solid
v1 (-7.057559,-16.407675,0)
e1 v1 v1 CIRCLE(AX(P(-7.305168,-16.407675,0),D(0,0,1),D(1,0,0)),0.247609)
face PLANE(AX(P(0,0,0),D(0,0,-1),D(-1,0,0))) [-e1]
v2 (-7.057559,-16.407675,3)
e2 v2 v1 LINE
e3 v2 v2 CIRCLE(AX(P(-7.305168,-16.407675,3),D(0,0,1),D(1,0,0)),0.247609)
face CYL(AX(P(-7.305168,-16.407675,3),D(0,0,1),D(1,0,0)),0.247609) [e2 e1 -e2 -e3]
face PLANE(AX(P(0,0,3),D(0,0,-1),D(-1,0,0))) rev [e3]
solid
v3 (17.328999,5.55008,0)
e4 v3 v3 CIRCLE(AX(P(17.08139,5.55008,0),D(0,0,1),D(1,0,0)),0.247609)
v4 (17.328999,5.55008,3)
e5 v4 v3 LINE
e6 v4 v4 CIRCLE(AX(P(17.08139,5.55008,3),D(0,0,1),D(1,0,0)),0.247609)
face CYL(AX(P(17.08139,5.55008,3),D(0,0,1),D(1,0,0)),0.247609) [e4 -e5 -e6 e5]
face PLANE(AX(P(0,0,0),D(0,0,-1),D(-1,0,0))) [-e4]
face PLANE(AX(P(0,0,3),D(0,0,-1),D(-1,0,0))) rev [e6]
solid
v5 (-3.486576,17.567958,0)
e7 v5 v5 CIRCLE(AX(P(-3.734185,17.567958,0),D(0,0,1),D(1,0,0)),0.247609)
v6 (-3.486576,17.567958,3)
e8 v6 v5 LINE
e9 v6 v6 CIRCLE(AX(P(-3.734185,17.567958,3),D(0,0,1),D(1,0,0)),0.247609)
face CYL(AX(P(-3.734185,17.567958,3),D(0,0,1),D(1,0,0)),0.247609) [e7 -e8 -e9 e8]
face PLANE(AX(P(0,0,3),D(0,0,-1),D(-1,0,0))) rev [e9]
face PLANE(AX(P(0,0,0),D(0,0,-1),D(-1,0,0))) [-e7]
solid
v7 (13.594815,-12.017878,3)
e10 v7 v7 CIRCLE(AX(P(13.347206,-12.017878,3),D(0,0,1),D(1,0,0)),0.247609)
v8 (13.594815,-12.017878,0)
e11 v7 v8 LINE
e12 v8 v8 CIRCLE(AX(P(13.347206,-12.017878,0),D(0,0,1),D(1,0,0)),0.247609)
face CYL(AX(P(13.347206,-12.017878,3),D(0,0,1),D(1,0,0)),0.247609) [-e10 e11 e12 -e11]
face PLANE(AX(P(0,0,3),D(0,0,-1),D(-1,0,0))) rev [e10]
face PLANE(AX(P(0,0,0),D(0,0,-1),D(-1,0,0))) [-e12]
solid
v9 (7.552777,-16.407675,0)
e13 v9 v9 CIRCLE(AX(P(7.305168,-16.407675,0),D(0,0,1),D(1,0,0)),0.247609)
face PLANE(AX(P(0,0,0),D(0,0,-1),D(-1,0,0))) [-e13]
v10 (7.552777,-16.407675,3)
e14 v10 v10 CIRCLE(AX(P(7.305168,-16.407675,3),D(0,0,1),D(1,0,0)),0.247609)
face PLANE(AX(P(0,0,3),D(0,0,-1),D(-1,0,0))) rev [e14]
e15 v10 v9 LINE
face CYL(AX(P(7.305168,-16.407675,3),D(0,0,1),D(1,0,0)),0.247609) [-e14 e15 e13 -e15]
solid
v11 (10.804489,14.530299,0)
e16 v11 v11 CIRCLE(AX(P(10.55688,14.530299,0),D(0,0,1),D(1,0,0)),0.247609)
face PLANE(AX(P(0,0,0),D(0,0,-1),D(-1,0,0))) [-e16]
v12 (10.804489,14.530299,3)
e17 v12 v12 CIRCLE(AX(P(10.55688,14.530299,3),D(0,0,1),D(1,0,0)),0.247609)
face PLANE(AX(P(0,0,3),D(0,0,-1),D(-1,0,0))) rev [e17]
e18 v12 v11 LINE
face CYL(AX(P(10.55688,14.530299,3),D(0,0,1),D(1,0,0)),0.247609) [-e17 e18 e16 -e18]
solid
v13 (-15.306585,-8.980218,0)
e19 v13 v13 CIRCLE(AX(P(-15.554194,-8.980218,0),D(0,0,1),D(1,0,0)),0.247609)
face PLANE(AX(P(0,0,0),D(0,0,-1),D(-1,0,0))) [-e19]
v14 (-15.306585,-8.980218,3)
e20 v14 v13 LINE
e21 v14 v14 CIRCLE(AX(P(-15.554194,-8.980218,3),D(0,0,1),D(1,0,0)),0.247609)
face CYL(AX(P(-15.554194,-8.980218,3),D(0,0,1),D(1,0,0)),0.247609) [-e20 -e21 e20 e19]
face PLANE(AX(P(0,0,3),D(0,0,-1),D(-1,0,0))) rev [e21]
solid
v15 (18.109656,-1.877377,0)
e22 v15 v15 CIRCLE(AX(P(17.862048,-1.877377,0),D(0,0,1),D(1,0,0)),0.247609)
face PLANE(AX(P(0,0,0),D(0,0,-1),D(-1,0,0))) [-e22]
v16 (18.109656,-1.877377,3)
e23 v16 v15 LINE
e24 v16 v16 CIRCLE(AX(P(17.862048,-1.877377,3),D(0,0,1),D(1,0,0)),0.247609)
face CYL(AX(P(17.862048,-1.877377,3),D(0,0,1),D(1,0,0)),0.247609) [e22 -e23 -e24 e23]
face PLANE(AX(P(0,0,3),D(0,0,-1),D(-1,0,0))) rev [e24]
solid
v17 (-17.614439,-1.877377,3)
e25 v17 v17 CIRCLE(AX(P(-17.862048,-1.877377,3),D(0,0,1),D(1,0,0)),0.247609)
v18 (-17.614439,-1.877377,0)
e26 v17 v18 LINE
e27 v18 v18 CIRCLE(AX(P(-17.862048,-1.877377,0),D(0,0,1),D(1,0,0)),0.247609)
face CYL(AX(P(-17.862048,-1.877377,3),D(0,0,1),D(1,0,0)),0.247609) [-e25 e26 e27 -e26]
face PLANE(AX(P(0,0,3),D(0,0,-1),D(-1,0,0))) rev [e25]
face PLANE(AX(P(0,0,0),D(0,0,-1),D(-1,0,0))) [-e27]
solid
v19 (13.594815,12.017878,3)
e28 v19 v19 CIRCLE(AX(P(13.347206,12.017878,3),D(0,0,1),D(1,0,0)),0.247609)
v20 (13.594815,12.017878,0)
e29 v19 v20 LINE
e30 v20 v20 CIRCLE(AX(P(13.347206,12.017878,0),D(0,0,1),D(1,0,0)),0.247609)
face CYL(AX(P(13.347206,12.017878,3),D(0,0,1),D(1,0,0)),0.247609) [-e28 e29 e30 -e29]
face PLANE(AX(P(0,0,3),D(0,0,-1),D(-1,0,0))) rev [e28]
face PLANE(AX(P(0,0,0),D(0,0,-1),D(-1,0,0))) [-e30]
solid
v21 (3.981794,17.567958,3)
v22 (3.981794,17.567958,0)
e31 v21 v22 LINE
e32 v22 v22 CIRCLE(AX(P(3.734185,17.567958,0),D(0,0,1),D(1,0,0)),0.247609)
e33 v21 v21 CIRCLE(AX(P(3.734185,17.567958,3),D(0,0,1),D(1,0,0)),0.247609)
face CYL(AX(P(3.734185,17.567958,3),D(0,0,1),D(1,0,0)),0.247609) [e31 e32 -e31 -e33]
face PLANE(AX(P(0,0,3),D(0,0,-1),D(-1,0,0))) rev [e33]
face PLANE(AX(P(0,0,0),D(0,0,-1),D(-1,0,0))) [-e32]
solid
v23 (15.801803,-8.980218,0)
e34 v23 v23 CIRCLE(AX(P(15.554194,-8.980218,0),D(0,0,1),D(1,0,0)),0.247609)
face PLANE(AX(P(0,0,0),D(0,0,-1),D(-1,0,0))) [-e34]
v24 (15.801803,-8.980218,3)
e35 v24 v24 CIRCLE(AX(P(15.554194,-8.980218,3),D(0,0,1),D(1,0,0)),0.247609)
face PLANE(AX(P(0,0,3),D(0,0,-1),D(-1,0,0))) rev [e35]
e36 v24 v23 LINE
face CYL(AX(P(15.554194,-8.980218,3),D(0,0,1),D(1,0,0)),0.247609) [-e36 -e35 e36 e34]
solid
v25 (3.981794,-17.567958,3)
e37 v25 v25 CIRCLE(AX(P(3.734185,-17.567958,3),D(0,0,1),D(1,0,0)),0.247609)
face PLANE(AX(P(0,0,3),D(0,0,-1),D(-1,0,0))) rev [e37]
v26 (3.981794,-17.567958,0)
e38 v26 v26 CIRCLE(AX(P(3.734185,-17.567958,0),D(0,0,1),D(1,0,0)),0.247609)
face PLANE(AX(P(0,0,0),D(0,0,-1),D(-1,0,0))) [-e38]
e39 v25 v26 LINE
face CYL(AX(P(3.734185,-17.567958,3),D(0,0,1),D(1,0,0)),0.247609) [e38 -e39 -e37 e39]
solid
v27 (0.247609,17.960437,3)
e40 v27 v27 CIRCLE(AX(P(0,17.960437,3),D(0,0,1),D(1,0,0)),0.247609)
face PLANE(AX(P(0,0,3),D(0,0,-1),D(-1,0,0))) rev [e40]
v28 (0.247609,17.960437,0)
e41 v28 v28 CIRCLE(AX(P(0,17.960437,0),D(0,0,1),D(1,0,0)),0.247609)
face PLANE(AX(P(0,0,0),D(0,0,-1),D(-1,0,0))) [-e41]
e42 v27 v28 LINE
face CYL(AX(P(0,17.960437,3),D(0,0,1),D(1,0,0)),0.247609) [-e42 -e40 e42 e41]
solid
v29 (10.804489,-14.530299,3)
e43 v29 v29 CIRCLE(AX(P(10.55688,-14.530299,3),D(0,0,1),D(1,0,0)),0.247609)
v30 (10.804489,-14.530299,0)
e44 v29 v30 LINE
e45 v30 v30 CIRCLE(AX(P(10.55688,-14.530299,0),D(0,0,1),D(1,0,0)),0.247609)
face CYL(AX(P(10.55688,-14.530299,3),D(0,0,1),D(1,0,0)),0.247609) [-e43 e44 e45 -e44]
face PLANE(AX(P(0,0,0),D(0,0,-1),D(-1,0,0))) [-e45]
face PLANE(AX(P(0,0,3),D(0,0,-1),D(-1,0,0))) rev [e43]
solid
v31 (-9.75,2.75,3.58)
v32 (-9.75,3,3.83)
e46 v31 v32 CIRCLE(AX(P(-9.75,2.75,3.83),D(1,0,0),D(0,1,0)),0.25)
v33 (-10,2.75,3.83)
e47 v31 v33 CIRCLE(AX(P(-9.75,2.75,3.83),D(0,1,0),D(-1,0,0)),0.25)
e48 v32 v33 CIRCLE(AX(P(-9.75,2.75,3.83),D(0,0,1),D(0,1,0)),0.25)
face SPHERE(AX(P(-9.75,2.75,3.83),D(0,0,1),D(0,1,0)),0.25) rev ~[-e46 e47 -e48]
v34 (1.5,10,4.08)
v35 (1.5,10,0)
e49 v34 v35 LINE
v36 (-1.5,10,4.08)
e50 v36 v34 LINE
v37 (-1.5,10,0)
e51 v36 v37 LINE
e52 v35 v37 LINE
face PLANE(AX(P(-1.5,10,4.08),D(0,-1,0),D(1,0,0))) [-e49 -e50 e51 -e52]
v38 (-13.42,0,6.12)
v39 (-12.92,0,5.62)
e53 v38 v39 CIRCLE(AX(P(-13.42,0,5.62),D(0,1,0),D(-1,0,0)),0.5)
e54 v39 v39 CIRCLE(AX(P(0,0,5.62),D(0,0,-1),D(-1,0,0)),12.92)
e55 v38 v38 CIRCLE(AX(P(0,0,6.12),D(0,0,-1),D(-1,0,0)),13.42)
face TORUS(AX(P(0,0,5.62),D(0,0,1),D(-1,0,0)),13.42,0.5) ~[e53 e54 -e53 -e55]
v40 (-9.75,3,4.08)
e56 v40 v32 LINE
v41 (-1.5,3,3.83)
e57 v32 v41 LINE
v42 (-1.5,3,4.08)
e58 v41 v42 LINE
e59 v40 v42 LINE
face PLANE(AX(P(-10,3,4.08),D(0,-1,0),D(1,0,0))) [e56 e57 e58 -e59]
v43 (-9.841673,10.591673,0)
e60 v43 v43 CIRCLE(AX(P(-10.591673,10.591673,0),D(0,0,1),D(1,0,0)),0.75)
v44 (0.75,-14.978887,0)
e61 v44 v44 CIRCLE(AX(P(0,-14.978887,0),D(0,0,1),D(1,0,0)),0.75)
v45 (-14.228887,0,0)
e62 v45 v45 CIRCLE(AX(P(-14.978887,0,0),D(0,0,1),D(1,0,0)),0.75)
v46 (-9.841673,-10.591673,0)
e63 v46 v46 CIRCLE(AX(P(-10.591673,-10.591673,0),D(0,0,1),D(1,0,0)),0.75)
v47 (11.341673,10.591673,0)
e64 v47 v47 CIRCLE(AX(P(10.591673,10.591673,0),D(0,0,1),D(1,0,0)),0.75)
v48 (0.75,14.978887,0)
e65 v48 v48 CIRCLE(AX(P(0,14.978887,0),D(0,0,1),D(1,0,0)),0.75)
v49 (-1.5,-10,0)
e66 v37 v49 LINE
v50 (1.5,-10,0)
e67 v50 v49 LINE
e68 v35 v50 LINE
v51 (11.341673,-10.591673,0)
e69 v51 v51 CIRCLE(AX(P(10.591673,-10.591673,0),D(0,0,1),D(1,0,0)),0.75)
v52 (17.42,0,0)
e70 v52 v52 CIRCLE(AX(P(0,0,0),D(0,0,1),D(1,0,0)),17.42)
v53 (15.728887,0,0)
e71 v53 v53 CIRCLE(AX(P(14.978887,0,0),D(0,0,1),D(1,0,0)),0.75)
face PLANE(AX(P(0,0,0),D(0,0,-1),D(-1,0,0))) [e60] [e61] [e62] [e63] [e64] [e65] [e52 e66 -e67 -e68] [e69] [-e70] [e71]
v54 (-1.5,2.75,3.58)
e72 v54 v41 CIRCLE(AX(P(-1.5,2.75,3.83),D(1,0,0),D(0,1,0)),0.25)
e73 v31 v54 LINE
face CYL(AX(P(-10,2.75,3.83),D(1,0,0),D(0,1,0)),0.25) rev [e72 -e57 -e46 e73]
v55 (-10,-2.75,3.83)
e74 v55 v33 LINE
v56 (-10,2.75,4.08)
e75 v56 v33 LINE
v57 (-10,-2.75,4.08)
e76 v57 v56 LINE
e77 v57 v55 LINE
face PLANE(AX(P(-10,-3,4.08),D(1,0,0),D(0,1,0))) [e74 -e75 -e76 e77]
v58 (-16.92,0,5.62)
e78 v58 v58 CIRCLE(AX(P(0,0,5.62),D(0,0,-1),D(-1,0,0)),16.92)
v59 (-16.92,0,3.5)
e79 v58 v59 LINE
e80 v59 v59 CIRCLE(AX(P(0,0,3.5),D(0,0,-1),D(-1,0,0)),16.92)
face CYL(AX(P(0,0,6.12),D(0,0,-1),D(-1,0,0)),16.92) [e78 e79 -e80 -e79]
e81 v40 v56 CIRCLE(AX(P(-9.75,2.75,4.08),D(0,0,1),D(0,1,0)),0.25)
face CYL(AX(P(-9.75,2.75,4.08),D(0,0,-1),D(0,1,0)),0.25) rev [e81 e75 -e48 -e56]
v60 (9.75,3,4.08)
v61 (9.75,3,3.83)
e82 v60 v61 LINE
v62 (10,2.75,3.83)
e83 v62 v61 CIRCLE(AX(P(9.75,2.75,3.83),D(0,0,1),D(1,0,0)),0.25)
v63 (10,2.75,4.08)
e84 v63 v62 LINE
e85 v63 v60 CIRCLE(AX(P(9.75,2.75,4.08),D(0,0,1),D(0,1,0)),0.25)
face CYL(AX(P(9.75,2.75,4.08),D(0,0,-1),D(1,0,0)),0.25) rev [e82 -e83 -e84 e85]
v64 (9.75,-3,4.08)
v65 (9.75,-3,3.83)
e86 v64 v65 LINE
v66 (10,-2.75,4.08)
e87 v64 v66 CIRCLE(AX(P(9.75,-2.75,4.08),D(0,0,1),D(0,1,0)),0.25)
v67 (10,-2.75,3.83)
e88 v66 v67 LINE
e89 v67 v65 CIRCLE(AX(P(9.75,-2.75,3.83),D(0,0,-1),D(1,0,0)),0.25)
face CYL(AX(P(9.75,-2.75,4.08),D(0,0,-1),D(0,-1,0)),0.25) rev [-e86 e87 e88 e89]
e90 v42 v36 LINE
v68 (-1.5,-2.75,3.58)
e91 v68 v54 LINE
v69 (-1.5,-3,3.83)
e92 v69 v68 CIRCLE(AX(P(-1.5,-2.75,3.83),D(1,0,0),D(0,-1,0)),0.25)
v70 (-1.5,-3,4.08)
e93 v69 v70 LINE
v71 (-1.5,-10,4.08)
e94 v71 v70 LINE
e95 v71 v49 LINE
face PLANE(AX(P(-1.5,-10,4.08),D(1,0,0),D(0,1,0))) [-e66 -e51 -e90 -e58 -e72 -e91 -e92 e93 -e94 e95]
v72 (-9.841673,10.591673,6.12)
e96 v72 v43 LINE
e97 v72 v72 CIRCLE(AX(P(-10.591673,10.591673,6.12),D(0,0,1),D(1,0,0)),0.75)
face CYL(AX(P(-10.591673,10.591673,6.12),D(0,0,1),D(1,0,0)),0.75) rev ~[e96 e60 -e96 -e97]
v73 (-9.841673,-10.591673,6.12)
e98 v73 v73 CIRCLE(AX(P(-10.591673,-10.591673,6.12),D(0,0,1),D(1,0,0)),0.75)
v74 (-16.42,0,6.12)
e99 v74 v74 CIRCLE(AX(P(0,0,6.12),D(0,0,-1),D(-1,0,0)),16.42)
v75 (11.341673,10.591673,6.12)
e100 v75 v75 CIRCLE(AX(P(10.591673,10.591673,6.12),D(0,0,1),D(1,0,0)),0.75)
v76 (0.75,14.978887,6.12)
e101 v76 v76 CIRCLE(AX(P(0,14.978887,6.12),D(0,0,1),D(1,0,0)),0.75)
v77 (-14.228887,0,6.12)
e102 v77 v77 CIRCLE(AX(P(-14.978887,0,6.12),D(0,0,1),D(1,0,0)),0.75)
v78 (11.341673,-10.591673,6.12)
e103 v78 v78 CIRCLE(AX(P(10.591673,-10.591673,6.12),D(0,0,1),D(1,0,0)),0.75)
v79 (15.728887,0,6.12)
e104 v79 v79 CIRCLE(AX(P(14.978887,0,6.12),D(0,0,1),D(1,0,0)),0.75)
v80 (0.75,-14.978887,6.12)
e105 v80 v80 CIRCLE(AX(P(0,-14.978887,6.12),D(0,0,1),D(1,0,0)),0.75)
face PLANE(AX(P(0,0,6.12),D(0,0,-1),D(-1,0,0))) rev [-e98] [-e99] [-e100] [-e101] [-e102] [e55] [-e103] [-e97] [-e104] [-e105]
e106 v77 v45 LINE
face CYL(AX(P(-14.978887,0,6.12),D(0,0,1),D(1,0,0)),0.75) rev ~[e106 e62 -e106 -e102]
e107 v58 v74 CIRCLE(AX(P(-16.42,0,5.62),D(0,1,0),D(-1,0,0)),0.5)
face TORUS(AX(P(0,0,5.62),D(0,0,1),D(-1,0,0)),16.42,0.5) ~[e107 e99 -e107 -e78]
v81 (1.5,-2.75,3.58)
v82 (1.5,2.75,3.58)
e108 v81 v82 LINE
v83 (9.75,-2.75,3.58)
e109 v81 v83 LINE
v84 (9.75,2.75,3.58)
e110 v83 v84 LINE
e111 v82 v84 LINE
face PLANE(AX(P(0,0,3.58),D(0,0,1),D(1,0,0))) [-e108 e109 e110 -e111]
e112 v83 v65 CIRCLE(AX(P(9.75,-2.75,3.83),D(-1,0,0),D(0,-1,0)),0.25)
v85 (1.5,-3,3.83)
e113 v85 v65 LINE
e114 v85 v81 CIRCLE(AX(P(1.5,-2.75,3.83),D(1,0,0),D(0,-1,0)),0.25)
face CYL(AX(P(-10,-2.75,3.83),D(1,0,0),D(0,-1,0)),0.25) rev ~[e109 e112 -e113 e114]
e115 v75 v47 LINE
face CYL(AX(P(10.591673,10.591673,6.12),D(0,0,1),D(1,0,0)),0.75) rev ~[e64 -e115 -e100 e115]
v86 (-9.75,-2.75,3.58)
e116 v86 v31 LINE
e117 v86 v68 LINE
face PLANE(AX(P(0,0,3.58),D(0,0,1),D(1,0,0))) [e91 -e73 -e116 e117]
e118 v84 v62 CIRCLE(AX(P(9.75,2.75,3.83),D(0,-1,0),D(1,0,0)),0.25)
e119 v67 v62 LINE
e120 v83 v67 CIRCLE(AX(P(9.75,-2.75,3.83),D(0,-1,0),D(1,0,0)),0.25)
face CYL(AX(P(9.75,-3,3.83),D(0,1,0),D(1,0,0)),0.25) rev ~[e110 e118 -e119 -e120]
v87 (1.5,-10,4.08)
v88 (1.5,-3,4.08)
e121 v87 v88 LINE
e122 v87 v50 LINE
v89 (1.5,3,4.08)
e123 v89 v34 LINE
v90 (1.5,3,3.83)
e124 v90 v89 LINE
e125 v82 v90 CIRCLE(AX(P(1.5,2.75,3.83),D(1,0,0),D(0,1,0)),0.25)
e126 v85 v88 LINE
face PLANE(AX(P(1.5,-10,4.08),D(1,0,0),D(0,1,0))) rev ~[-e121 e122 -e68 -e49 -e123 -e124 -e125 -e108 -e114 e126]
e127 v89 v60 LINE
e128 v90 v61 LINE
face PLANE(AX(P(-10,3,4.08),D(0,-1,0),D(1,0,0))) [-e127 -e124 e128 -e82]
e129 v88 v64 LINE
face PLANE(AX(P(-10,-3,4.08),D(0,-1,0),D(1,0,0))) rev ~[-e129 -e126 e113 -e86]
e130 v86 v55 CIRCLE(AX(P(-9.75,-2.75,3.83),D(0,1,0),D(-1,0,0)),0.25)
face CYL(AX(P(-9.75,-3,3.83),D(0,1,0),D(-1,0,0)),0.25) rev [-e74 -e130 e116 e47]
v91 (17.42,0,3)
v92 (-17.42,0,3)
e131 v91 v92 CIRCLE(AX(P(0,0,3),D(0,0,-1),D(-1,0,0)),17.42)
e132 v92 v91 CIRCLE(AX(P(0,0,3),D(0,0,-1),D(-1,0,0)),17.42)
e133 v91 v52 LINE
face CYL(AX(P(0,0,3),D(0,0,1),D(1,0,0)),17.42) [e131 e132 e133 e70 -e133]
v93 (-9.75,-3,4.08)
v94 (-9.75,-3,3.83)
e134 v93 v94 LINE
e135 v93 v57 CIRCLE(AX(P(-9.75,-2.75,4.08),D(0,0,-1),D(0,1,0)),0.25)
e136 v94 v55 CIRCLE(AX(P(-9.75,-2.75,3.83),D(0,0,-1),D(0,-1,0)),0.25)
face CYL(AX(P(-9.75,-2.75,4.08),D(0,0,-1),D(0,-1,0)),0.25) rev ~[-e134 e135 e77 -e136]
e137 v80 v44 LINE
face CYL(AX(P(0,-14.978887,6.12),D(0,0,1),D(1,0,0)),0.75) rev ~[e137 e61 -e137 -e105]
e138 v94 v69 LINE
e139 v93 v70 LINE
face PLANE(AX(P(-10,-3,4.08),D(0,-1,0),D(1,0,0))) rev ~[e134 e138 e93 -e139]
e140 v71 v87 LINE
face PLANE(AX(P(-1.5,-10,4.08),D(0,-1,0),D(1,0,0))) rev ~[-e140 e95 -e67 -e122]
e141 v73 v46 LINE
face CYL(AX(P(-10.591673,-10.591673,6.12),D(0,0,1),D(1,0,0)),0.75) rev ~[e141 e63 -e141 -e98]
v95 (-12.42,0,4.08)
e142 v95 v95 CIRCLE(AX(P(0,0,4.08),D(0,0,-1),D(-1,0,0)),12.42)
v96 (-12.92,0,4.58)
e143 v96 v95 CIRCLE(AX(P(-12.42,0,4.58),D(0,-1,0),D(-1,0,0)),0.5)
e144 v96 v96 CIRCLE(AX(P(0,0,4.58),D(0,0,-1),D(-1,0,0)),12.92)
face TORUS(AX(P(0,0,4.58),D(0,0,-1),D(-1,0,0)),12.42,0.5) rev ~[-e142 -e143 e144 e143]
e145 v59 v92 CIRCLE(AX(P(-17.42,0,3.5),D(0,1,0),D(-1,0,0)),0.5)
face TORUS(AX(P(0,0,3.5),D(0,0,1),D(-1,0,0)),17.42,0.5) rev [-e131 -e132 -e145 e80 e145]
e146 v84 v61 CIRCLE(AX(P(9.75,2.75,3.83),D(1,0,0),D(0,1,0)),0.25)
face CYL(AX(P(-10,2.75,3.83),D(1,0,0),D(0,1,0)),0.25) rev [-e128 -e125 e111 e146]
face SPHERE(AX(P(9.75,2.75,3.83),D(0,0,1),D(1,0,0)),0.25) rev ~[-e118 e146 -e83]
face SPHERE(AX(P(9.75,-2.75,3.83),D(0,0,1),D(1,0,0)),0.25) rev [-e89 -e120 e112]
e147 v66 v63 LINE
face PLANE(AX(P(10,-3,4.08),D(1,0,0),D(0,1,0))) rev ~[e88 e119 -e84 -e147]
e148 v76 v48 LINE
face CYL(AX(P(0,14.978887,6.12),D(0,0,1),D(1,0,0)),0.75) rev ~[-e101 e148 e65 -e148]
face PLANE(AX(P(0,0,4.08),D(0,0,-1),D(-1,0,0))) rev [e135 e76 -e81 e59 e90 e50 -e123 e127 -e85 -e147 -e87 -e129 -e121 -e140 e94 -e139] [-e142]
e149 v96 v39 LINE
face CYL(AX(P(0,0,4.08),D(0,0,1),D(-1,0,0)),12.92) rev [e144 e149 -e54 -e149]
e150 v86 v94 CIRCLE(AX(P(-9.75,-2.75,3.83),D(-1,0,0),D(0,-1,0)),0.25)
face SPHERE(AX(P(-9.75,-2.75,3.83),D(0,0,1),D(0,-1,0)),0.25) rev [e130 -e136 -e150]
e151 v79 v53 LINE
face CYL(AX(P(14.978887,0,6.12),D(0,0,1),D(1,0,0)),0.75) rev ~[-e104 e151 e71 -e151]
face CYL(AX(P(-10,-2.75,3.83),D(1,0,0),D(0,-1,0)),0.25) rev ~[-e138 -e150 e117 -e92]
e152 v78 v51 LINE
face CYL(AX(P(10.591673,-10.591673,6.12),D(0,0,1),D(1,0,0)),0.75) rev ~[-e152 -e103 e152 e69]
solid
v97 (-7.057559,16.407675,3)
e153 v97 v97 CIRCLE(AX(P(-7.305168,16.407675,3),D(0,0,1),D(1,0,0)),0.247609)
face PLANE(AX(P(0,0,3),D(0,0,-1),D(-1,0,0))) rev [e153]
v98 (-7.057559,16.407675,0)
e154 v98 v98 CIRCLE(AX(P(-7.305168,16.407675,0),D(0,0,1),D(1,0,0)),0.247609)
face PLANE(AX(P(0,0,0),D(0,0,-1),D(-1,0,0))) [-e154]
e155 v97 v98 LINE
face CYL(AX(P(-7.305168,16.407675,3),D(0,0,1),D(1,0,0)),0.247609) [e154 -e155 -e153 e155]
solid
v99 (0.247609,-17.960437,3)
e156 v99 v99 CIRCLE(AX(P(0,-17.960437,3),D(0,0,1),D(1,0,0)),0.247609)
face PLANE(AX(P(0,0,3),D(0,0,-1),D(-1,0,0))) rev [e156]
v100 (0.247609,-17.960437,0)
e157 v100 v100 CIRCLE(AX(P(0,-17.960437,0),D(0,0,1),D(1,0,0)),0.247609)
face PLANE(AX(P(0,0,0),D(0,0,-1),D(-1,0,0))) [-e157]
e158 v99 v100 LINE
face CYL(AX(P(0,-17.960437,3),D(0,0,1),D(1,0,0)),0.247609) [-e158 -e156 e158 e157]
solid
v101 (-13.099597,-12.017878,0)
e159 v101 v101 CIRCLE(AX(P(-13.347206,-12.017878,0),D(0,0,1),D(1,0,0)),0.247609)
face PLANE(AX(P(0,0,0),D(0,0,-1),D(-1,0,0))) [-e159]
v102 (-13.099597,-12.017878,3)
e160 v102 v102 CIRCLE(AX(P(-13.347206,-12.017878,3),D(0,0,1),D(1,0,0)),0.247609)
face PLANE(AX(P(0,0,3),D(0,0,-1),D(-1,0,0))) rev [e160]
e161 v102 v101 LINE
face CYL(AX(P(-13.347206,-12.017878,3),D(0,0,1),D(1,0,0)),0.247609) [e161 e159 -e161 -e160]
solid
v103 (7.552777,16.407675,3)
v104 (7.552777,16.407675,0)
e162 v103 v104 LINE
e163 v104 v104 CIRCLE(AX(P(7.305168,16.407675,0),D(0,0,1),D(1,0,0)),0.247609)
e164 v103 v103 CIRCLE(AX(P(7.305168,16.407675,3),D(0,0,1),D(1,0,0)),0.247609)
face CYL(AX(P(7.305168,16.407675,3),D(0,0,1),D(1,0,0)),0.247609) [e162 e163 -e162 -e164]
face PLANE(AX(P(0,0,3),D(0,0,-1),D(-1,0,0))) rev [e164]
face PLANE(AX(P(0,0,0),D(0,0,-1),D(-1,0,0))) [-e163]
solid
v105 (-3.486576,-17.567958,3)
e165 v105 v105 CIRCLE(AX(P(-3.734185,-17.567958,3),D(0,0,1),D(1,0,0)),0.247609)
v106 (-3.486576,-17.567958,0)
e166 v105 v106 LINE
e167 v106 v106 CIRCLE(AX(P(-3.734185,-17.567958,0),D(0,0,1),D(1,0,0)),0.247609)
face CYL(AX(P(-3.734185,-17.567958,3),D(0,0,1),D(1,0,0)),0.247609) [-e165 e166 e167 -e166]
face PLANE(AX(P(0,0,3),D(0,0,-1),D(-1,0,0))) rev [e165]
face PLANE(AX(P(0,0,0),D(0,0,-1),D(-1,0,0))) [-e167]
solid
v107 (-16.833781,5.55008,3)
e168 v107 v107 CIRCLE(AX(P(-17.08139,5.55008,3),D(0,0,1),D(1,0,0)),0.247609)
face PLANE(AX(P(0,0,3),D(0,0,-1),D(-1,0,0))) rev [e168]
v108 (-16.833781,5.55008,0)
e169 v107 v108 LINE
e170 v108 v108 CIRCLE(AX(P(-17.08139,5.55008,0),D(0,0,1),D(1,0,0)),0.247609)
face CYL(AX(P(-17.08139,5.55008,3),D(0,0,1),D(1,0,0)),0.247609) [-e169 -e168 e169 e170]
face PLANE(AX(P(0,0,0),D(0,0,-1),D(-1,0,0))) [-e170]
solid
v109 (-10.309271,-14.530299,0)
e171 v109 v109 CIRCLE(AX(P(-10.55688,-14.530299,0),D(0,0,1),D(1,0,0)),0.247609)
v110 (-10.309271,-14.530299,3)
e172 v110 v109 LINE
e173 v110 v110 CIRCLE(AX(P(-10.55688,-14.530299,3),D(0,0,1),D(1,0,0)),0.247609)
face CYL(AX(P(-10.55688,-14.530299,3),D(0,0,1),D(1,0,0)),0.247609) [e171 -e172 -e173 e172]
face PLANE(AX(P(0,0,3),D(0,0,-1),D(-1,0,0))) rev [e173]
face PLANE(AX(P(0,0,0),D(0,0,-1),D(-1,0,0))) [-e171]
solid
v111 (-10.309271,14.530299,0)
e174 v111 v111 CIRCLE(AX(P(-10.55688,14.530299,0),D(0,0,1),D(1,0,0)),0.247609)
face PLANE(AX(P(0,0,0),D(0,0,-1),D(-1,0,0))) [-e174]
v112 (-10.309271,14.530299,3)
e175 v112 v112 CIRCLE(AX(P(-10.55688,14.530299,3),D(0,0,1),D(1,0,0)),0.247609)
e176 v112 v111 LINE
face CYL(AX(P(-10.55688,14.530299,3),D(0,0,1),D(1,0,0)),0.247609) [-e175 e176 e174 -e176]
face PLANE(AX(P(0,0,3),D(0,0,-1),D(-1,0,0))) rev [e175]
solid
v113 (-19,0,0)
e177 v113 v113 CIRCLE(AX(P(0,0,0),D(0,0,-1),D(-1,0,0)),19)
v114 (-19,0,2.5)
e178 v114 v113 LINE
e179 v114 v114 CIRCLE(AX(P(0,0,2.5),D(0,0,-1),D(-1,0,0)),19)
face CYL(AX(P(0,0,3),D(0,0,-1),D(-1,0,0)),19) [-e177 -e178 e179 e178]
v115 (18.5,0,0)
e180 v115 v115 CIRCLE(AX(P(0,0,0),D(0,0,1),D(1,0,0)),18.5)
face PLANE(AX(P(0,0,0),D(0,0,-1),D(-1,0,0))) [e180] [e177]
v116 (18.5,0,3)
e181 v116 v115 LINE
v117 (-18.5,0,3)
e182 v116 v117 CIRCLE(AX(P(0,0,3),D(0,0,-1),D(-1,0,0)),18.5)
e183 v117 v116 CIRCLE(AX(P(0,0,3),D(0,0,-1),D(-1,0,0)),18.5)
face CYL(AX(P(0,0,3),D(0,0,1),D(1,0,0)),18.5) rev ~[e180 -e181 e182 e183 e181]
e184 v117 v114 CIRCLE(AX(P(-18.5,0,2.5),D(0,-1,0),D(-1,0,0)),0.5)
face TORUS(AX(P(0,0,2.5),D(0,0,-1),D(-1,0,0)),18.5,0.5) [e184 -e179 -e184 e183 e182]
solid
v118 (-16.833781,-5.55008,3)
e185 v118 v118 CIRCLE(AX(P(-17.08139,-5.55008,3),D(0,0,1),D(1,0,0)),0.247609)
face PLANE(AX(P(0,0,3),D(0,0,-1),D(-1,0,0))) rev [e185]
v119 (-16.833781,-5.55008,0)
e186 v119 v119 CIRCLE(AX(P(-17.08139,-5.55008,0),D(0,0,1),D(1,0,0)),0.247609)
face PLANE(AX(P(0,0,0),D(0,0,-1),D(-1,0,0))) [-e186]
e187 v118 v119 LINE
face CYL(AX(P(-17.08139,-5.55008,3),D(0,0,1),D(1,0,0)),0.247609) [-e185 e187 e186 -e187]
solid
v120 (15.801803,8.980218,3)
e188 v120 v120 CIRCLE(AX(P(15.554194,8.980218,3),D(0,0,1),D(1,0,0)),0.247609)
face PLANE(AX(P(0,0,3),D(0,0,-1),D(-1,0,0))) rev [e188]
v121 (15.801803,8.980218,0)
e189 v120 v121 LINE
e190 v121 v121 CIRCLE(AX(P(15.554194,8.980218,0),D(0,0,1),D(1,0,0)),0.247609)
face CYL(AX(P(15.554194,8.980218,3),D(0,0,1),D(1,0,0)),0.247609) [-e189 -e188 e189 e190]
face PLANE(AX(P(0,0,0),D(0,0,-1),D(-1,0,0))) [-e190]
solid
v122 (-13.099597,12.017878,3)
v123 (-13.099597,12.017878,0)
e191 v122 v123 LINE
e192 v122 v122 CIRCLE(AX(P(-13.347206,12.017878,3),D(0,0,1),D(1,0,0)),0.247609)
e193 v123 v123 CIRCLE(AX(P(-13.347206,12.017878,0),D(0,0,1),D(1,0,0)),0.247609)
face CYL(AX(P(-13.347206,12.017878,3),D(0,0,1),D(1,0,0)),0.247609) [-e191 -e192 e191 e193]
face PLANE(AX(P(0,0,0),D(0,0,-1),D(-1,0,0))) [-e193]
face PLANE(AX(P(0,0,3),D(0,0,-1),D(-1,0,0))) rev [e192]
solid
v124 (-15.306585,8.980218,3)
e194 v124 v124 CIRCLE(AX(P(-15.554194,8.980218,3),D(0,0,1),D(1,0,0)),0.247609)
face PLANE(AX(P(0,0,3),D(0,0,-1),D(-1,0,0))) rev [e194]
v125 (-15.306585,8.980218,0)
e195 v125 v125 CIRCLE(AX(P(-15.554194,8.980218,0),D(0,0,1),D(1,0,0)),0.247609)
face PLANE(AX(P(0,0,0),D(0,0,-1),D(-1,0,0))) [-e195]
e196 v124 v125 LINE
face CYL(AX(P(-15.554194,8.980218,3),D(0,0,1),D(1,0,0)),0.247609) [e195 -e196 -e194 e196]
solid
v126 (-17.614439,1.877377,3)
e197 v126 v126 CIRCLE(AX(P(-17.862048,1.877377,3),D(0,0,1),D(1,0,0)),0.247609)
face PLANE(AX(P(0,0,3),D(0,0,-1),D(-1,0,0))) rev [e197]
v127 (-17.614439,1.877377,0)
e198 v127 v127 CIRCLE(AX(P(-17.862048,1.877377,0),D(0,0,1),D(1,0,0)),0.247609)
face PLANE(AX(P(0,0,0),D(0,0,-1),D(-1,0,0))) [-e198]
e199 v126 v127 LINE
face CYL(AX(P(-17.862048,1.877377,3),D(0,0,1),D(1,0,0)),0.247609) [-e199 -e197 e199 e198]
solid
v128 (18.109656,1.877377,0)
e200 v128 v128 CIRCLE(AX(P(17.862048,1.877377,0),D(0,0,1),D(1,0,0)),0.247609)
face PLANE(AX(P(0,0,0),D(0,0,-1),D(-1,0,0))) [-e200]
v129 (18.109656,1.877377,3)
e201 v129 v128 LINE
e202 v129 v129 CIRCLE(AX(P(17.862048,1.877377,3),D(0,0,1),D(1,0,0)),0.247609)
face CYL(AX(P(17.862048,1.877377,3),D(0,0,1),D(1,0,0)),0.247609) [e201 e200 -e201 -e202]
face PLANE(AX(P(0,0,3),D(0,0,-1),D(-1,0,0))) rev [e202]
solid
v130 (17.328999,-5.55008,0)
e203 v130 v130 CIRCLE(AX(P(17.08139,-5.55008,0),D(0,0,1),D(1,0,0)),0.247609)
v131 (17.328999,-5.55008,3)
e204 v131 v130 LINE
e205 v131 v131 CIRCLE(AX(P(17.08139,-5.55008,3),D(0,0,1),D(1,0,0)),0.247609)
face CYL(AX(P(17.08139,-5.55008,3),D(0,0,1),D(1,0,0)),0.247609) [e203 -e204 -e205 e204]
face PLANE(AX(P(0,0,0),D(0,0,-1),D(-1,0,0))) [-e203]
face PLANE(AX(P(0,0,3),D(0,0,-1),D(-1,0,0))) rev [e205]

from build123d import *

# Parameters (mm, degrees)
F2_R      = 0.5
F3_R      = 0.5
F5_W      = 20
F5_H      = 6
F6_DEPTH  = 0.5
F7_R      = 0.25
F8_W      = 3
F8_H      = 20
F9_DEPTH  = 5
F10_R     = 0.75
F11_DEPTH = 25
F12_R     = 18.5
F12_R_2   = 0.2476089496
F12_R_3   = 17.4200000594
F13_DEPTH = 25


with BuildPart() as f1:
    # F0 (on Front) → F1 (revolve)
    with BuildSketch(Plane.XZ):
        Polygon((-19, 0), (0, 0), (0, 4.0800003121), (-12.9200000594, 4.0800003121), (-12.9200000594, 6.1199999108), (-16.9200000594, 6.1199999108), (-16.9200000594, 3), (-19, 3), align=None)
    revolve(axis=Axis((0, 0, 2.0400001561), (0, 0, -1)))

    # F2
    f2_edges = [f1.edges().sort_by_distance(p)[0] for p in [
        (16.92, 0, 3),
        (19, 0, 3),
    ]]
    fillet(f2_edges, radius=F2_R)

    # F3
    f3_edges = [f1.edges().sort_by_distance(p)[0] for p in [
        (16.92, 0, 6.12),
        (12.92, 0, 6.12),
        (12.92, 0, 4.08),
    ]]
    fillet(f3_edges, radius=F3_R)

    # F5 (on offset) → F6 (cut)
    with BuildSketch(Plane.XY.offset(4.0800003121)):
        Rectangle(F5_W, F5_H)
    extrude(amount=-F6_DEPTH, mode=Mode.SUBTRACT)

    # F7
    f7_edges = [f1.edges().sort_by_distance(p)[0] for p in [
        (-10, 3, 3.83),
        (-10, -3, 3.83),
        (10, 3, 3.83),
        (10, -3, 3.83),
        (10, 0, 3.58),
        (0, -3, 3.58),
        (0, 3, 3.58),
        (-10, 0, 3.58),
    ]]
    fillet(f7_edges, radius=F7_R)

    # F8 (on offset) → F9 (cut)
    with BuildSketch(Plane.XY.offset(4.0800003121)):
        Rectangle(F8_W, F8_H)
    extrude(amount=-F9_DEPTH, mode=Mode.SUBTRACT)

    # F10 (on face) → F11 (cut)
    with BuildSketch(Plane.XY.offset(6.1199999108)):
        with Locations((-10.59167251, 10.59167251)):
            Circle(F10_R)
        with Locations((-10.59167251, -10.59167251)):
            Circle(F10_R)
        with Locations((-14.9788869118, 0)):
            Circle(F10_R)
        with Locations((0, 14.9788869118)):
            Circle(F10_R)
        with Locations((0, -14.9788869118)):
            Circle(F10_R)
        with Locations((10.59167251, -10.59167251)):
            Circle(F10_R)
        with Locations((14.9788869118, 0)):
            Circle(F10_R)
        with Locations((10.59167251, 10.59167251)):
            Circle(F10_R)
    extrude(amount=-F11_DEPTH, mode=Mode.SUBTRACT)

    # F12 (on face) → F13 (cut)
    with BuildSketch(Plane.XY.offset(3)):
        Circle(F12_R)
        with Locations((-10.5568798145, -14.5302985132)):
            Circle(F12_R_2, mode=Mode.SUBTRACT)
        with Locations((-13.3472055938, -12.0178778967)):
            Circle(F12_R_2, mode=Mode.SUBTRACT)
        with Locations((-7.3051677298, -16.4076753607)):
            Circle(F12_R_2, mode=Mode.SUBTRACT)
        with Locations((-3.7341847612, -17.5679580621)):
            Circle(F12_R_2, mode=Mode.SUBTRACT)
        with Locations((-15.5541944416, -8.9802183479)):
            Circle(F12_R_2, mode=Mode.SUBTRACT)
        with Locations((-17.081390355, -5.5500801654)):
            Circle(F12_R_2, mode=Mode.SUBTRACT)
        with Locations((-17.8620475443, -1.8773768474)):
            Circle(F12_R_2, mode=Mode.SUBTRACT)
        with Locations((0, -17.9604366957)):
            Circle(F12_R_2, mode=Mode.SUBTRACT)
        with Locations((3.7341847612, -17.5679580621)):
            Circle(F12_R_2, mode=Mode.SUBTRACT)
        with Locations((7.3051677298, -16.4076753607)):
            Circle(F12_R_2, mode=Mode.SUBTRACT)
        with Locations((10.5568798145, -14.5302985132)):
            Circle(F12_R_2, mode=Mode.SUBTRACT)
        with Locations((13.3472055938, -12.0178778967)):
            Circle(F12_R_2, mode=Mode.SUBTRACT)
        with Locations((15.5541944416, -8.9802183479)):
            Circle(F12_R_2, mode=Mode.SUBTRACT)
        with Locations((17.081390355, -5.5500801654)):
            Circle(F12_R_2, mode=Mode.SUBTRACT)
        with Locations((17.8620475443, -1.8773768474)):
            Circle(F12_R_2, mode=Mode.SUBTRACT)
        with Locations((-17.8620475443, 1.8773768474)):
            Circle(F12_R_2, mode=Mode.SUBTRACT)
        with Locations((-17.081390355, 5.5500801654)):
            Circle(F12_R_2, mode=Mode.SUBTRACT)
        with Locations((-15.5541944416, 8.9802183479)):
            Circle(F12_R_2, mode=Mode.SUBTRACT)
        with Locations((-13.3472055938, 12.0178778967)):
            Circle(F12_R_2, mode=Mode.SUBTRACT)
        with Locations((-10.5568798145, 14.5302985132)):
            Circle(F12_R_2, mode=Mode.SUBTRACT)
        with Locations((-7.3051677298, 16.4076753607)):
            Circle(F12_R_2, mode=Mode.SUBTRACT)
        with Locations((-3.7341847612, 17.5679580621)):
            Circle(F12_R_2, mode=Mode.SUBTRACT)
        Circle(F12_R_3, mode=Mode.SUBTRACT)
        with Locations((17.8620475443, 1.8773768474)):
            Circle(F12_R_2, mode=Mode.SUBTRACT)
        with Locations((17.081390355, 5.5500801654)):
            Circle(F12_R_2, mode=Mode.SUBTRACT)
        with Locations((15.5541944416, 8.9802183479)):
            Circle(F12_R_2, mode=Mode.SUBTRACT)
        with Locations((0, 17.9604366957)):
            Circle(F12_R_2, mode=Mode.SUBTRACT)
        with Locations((3.7341847612, 17.5679580621)):
            Circle(F12_R_2, mode=Mode.SUBTRACT)
        with Locations((7.3051677298, 16.4076753607)):
            Circle(F12_R_2, mode=Mode.SUBTRACT)
        with Locations((13.3472055938, 12.0178778967)):
            Circle(F12_R_2, mode=Mode.SUBTRACT)
        with Locations((10.5568798145, 14.5302985132)):
            Circle(F12_R_2, mode=Mode.SUBTRACT)
    extrude(amount=-F13_DEPTH, mode=Mode.SUBTRACT)


solid = f1.part
